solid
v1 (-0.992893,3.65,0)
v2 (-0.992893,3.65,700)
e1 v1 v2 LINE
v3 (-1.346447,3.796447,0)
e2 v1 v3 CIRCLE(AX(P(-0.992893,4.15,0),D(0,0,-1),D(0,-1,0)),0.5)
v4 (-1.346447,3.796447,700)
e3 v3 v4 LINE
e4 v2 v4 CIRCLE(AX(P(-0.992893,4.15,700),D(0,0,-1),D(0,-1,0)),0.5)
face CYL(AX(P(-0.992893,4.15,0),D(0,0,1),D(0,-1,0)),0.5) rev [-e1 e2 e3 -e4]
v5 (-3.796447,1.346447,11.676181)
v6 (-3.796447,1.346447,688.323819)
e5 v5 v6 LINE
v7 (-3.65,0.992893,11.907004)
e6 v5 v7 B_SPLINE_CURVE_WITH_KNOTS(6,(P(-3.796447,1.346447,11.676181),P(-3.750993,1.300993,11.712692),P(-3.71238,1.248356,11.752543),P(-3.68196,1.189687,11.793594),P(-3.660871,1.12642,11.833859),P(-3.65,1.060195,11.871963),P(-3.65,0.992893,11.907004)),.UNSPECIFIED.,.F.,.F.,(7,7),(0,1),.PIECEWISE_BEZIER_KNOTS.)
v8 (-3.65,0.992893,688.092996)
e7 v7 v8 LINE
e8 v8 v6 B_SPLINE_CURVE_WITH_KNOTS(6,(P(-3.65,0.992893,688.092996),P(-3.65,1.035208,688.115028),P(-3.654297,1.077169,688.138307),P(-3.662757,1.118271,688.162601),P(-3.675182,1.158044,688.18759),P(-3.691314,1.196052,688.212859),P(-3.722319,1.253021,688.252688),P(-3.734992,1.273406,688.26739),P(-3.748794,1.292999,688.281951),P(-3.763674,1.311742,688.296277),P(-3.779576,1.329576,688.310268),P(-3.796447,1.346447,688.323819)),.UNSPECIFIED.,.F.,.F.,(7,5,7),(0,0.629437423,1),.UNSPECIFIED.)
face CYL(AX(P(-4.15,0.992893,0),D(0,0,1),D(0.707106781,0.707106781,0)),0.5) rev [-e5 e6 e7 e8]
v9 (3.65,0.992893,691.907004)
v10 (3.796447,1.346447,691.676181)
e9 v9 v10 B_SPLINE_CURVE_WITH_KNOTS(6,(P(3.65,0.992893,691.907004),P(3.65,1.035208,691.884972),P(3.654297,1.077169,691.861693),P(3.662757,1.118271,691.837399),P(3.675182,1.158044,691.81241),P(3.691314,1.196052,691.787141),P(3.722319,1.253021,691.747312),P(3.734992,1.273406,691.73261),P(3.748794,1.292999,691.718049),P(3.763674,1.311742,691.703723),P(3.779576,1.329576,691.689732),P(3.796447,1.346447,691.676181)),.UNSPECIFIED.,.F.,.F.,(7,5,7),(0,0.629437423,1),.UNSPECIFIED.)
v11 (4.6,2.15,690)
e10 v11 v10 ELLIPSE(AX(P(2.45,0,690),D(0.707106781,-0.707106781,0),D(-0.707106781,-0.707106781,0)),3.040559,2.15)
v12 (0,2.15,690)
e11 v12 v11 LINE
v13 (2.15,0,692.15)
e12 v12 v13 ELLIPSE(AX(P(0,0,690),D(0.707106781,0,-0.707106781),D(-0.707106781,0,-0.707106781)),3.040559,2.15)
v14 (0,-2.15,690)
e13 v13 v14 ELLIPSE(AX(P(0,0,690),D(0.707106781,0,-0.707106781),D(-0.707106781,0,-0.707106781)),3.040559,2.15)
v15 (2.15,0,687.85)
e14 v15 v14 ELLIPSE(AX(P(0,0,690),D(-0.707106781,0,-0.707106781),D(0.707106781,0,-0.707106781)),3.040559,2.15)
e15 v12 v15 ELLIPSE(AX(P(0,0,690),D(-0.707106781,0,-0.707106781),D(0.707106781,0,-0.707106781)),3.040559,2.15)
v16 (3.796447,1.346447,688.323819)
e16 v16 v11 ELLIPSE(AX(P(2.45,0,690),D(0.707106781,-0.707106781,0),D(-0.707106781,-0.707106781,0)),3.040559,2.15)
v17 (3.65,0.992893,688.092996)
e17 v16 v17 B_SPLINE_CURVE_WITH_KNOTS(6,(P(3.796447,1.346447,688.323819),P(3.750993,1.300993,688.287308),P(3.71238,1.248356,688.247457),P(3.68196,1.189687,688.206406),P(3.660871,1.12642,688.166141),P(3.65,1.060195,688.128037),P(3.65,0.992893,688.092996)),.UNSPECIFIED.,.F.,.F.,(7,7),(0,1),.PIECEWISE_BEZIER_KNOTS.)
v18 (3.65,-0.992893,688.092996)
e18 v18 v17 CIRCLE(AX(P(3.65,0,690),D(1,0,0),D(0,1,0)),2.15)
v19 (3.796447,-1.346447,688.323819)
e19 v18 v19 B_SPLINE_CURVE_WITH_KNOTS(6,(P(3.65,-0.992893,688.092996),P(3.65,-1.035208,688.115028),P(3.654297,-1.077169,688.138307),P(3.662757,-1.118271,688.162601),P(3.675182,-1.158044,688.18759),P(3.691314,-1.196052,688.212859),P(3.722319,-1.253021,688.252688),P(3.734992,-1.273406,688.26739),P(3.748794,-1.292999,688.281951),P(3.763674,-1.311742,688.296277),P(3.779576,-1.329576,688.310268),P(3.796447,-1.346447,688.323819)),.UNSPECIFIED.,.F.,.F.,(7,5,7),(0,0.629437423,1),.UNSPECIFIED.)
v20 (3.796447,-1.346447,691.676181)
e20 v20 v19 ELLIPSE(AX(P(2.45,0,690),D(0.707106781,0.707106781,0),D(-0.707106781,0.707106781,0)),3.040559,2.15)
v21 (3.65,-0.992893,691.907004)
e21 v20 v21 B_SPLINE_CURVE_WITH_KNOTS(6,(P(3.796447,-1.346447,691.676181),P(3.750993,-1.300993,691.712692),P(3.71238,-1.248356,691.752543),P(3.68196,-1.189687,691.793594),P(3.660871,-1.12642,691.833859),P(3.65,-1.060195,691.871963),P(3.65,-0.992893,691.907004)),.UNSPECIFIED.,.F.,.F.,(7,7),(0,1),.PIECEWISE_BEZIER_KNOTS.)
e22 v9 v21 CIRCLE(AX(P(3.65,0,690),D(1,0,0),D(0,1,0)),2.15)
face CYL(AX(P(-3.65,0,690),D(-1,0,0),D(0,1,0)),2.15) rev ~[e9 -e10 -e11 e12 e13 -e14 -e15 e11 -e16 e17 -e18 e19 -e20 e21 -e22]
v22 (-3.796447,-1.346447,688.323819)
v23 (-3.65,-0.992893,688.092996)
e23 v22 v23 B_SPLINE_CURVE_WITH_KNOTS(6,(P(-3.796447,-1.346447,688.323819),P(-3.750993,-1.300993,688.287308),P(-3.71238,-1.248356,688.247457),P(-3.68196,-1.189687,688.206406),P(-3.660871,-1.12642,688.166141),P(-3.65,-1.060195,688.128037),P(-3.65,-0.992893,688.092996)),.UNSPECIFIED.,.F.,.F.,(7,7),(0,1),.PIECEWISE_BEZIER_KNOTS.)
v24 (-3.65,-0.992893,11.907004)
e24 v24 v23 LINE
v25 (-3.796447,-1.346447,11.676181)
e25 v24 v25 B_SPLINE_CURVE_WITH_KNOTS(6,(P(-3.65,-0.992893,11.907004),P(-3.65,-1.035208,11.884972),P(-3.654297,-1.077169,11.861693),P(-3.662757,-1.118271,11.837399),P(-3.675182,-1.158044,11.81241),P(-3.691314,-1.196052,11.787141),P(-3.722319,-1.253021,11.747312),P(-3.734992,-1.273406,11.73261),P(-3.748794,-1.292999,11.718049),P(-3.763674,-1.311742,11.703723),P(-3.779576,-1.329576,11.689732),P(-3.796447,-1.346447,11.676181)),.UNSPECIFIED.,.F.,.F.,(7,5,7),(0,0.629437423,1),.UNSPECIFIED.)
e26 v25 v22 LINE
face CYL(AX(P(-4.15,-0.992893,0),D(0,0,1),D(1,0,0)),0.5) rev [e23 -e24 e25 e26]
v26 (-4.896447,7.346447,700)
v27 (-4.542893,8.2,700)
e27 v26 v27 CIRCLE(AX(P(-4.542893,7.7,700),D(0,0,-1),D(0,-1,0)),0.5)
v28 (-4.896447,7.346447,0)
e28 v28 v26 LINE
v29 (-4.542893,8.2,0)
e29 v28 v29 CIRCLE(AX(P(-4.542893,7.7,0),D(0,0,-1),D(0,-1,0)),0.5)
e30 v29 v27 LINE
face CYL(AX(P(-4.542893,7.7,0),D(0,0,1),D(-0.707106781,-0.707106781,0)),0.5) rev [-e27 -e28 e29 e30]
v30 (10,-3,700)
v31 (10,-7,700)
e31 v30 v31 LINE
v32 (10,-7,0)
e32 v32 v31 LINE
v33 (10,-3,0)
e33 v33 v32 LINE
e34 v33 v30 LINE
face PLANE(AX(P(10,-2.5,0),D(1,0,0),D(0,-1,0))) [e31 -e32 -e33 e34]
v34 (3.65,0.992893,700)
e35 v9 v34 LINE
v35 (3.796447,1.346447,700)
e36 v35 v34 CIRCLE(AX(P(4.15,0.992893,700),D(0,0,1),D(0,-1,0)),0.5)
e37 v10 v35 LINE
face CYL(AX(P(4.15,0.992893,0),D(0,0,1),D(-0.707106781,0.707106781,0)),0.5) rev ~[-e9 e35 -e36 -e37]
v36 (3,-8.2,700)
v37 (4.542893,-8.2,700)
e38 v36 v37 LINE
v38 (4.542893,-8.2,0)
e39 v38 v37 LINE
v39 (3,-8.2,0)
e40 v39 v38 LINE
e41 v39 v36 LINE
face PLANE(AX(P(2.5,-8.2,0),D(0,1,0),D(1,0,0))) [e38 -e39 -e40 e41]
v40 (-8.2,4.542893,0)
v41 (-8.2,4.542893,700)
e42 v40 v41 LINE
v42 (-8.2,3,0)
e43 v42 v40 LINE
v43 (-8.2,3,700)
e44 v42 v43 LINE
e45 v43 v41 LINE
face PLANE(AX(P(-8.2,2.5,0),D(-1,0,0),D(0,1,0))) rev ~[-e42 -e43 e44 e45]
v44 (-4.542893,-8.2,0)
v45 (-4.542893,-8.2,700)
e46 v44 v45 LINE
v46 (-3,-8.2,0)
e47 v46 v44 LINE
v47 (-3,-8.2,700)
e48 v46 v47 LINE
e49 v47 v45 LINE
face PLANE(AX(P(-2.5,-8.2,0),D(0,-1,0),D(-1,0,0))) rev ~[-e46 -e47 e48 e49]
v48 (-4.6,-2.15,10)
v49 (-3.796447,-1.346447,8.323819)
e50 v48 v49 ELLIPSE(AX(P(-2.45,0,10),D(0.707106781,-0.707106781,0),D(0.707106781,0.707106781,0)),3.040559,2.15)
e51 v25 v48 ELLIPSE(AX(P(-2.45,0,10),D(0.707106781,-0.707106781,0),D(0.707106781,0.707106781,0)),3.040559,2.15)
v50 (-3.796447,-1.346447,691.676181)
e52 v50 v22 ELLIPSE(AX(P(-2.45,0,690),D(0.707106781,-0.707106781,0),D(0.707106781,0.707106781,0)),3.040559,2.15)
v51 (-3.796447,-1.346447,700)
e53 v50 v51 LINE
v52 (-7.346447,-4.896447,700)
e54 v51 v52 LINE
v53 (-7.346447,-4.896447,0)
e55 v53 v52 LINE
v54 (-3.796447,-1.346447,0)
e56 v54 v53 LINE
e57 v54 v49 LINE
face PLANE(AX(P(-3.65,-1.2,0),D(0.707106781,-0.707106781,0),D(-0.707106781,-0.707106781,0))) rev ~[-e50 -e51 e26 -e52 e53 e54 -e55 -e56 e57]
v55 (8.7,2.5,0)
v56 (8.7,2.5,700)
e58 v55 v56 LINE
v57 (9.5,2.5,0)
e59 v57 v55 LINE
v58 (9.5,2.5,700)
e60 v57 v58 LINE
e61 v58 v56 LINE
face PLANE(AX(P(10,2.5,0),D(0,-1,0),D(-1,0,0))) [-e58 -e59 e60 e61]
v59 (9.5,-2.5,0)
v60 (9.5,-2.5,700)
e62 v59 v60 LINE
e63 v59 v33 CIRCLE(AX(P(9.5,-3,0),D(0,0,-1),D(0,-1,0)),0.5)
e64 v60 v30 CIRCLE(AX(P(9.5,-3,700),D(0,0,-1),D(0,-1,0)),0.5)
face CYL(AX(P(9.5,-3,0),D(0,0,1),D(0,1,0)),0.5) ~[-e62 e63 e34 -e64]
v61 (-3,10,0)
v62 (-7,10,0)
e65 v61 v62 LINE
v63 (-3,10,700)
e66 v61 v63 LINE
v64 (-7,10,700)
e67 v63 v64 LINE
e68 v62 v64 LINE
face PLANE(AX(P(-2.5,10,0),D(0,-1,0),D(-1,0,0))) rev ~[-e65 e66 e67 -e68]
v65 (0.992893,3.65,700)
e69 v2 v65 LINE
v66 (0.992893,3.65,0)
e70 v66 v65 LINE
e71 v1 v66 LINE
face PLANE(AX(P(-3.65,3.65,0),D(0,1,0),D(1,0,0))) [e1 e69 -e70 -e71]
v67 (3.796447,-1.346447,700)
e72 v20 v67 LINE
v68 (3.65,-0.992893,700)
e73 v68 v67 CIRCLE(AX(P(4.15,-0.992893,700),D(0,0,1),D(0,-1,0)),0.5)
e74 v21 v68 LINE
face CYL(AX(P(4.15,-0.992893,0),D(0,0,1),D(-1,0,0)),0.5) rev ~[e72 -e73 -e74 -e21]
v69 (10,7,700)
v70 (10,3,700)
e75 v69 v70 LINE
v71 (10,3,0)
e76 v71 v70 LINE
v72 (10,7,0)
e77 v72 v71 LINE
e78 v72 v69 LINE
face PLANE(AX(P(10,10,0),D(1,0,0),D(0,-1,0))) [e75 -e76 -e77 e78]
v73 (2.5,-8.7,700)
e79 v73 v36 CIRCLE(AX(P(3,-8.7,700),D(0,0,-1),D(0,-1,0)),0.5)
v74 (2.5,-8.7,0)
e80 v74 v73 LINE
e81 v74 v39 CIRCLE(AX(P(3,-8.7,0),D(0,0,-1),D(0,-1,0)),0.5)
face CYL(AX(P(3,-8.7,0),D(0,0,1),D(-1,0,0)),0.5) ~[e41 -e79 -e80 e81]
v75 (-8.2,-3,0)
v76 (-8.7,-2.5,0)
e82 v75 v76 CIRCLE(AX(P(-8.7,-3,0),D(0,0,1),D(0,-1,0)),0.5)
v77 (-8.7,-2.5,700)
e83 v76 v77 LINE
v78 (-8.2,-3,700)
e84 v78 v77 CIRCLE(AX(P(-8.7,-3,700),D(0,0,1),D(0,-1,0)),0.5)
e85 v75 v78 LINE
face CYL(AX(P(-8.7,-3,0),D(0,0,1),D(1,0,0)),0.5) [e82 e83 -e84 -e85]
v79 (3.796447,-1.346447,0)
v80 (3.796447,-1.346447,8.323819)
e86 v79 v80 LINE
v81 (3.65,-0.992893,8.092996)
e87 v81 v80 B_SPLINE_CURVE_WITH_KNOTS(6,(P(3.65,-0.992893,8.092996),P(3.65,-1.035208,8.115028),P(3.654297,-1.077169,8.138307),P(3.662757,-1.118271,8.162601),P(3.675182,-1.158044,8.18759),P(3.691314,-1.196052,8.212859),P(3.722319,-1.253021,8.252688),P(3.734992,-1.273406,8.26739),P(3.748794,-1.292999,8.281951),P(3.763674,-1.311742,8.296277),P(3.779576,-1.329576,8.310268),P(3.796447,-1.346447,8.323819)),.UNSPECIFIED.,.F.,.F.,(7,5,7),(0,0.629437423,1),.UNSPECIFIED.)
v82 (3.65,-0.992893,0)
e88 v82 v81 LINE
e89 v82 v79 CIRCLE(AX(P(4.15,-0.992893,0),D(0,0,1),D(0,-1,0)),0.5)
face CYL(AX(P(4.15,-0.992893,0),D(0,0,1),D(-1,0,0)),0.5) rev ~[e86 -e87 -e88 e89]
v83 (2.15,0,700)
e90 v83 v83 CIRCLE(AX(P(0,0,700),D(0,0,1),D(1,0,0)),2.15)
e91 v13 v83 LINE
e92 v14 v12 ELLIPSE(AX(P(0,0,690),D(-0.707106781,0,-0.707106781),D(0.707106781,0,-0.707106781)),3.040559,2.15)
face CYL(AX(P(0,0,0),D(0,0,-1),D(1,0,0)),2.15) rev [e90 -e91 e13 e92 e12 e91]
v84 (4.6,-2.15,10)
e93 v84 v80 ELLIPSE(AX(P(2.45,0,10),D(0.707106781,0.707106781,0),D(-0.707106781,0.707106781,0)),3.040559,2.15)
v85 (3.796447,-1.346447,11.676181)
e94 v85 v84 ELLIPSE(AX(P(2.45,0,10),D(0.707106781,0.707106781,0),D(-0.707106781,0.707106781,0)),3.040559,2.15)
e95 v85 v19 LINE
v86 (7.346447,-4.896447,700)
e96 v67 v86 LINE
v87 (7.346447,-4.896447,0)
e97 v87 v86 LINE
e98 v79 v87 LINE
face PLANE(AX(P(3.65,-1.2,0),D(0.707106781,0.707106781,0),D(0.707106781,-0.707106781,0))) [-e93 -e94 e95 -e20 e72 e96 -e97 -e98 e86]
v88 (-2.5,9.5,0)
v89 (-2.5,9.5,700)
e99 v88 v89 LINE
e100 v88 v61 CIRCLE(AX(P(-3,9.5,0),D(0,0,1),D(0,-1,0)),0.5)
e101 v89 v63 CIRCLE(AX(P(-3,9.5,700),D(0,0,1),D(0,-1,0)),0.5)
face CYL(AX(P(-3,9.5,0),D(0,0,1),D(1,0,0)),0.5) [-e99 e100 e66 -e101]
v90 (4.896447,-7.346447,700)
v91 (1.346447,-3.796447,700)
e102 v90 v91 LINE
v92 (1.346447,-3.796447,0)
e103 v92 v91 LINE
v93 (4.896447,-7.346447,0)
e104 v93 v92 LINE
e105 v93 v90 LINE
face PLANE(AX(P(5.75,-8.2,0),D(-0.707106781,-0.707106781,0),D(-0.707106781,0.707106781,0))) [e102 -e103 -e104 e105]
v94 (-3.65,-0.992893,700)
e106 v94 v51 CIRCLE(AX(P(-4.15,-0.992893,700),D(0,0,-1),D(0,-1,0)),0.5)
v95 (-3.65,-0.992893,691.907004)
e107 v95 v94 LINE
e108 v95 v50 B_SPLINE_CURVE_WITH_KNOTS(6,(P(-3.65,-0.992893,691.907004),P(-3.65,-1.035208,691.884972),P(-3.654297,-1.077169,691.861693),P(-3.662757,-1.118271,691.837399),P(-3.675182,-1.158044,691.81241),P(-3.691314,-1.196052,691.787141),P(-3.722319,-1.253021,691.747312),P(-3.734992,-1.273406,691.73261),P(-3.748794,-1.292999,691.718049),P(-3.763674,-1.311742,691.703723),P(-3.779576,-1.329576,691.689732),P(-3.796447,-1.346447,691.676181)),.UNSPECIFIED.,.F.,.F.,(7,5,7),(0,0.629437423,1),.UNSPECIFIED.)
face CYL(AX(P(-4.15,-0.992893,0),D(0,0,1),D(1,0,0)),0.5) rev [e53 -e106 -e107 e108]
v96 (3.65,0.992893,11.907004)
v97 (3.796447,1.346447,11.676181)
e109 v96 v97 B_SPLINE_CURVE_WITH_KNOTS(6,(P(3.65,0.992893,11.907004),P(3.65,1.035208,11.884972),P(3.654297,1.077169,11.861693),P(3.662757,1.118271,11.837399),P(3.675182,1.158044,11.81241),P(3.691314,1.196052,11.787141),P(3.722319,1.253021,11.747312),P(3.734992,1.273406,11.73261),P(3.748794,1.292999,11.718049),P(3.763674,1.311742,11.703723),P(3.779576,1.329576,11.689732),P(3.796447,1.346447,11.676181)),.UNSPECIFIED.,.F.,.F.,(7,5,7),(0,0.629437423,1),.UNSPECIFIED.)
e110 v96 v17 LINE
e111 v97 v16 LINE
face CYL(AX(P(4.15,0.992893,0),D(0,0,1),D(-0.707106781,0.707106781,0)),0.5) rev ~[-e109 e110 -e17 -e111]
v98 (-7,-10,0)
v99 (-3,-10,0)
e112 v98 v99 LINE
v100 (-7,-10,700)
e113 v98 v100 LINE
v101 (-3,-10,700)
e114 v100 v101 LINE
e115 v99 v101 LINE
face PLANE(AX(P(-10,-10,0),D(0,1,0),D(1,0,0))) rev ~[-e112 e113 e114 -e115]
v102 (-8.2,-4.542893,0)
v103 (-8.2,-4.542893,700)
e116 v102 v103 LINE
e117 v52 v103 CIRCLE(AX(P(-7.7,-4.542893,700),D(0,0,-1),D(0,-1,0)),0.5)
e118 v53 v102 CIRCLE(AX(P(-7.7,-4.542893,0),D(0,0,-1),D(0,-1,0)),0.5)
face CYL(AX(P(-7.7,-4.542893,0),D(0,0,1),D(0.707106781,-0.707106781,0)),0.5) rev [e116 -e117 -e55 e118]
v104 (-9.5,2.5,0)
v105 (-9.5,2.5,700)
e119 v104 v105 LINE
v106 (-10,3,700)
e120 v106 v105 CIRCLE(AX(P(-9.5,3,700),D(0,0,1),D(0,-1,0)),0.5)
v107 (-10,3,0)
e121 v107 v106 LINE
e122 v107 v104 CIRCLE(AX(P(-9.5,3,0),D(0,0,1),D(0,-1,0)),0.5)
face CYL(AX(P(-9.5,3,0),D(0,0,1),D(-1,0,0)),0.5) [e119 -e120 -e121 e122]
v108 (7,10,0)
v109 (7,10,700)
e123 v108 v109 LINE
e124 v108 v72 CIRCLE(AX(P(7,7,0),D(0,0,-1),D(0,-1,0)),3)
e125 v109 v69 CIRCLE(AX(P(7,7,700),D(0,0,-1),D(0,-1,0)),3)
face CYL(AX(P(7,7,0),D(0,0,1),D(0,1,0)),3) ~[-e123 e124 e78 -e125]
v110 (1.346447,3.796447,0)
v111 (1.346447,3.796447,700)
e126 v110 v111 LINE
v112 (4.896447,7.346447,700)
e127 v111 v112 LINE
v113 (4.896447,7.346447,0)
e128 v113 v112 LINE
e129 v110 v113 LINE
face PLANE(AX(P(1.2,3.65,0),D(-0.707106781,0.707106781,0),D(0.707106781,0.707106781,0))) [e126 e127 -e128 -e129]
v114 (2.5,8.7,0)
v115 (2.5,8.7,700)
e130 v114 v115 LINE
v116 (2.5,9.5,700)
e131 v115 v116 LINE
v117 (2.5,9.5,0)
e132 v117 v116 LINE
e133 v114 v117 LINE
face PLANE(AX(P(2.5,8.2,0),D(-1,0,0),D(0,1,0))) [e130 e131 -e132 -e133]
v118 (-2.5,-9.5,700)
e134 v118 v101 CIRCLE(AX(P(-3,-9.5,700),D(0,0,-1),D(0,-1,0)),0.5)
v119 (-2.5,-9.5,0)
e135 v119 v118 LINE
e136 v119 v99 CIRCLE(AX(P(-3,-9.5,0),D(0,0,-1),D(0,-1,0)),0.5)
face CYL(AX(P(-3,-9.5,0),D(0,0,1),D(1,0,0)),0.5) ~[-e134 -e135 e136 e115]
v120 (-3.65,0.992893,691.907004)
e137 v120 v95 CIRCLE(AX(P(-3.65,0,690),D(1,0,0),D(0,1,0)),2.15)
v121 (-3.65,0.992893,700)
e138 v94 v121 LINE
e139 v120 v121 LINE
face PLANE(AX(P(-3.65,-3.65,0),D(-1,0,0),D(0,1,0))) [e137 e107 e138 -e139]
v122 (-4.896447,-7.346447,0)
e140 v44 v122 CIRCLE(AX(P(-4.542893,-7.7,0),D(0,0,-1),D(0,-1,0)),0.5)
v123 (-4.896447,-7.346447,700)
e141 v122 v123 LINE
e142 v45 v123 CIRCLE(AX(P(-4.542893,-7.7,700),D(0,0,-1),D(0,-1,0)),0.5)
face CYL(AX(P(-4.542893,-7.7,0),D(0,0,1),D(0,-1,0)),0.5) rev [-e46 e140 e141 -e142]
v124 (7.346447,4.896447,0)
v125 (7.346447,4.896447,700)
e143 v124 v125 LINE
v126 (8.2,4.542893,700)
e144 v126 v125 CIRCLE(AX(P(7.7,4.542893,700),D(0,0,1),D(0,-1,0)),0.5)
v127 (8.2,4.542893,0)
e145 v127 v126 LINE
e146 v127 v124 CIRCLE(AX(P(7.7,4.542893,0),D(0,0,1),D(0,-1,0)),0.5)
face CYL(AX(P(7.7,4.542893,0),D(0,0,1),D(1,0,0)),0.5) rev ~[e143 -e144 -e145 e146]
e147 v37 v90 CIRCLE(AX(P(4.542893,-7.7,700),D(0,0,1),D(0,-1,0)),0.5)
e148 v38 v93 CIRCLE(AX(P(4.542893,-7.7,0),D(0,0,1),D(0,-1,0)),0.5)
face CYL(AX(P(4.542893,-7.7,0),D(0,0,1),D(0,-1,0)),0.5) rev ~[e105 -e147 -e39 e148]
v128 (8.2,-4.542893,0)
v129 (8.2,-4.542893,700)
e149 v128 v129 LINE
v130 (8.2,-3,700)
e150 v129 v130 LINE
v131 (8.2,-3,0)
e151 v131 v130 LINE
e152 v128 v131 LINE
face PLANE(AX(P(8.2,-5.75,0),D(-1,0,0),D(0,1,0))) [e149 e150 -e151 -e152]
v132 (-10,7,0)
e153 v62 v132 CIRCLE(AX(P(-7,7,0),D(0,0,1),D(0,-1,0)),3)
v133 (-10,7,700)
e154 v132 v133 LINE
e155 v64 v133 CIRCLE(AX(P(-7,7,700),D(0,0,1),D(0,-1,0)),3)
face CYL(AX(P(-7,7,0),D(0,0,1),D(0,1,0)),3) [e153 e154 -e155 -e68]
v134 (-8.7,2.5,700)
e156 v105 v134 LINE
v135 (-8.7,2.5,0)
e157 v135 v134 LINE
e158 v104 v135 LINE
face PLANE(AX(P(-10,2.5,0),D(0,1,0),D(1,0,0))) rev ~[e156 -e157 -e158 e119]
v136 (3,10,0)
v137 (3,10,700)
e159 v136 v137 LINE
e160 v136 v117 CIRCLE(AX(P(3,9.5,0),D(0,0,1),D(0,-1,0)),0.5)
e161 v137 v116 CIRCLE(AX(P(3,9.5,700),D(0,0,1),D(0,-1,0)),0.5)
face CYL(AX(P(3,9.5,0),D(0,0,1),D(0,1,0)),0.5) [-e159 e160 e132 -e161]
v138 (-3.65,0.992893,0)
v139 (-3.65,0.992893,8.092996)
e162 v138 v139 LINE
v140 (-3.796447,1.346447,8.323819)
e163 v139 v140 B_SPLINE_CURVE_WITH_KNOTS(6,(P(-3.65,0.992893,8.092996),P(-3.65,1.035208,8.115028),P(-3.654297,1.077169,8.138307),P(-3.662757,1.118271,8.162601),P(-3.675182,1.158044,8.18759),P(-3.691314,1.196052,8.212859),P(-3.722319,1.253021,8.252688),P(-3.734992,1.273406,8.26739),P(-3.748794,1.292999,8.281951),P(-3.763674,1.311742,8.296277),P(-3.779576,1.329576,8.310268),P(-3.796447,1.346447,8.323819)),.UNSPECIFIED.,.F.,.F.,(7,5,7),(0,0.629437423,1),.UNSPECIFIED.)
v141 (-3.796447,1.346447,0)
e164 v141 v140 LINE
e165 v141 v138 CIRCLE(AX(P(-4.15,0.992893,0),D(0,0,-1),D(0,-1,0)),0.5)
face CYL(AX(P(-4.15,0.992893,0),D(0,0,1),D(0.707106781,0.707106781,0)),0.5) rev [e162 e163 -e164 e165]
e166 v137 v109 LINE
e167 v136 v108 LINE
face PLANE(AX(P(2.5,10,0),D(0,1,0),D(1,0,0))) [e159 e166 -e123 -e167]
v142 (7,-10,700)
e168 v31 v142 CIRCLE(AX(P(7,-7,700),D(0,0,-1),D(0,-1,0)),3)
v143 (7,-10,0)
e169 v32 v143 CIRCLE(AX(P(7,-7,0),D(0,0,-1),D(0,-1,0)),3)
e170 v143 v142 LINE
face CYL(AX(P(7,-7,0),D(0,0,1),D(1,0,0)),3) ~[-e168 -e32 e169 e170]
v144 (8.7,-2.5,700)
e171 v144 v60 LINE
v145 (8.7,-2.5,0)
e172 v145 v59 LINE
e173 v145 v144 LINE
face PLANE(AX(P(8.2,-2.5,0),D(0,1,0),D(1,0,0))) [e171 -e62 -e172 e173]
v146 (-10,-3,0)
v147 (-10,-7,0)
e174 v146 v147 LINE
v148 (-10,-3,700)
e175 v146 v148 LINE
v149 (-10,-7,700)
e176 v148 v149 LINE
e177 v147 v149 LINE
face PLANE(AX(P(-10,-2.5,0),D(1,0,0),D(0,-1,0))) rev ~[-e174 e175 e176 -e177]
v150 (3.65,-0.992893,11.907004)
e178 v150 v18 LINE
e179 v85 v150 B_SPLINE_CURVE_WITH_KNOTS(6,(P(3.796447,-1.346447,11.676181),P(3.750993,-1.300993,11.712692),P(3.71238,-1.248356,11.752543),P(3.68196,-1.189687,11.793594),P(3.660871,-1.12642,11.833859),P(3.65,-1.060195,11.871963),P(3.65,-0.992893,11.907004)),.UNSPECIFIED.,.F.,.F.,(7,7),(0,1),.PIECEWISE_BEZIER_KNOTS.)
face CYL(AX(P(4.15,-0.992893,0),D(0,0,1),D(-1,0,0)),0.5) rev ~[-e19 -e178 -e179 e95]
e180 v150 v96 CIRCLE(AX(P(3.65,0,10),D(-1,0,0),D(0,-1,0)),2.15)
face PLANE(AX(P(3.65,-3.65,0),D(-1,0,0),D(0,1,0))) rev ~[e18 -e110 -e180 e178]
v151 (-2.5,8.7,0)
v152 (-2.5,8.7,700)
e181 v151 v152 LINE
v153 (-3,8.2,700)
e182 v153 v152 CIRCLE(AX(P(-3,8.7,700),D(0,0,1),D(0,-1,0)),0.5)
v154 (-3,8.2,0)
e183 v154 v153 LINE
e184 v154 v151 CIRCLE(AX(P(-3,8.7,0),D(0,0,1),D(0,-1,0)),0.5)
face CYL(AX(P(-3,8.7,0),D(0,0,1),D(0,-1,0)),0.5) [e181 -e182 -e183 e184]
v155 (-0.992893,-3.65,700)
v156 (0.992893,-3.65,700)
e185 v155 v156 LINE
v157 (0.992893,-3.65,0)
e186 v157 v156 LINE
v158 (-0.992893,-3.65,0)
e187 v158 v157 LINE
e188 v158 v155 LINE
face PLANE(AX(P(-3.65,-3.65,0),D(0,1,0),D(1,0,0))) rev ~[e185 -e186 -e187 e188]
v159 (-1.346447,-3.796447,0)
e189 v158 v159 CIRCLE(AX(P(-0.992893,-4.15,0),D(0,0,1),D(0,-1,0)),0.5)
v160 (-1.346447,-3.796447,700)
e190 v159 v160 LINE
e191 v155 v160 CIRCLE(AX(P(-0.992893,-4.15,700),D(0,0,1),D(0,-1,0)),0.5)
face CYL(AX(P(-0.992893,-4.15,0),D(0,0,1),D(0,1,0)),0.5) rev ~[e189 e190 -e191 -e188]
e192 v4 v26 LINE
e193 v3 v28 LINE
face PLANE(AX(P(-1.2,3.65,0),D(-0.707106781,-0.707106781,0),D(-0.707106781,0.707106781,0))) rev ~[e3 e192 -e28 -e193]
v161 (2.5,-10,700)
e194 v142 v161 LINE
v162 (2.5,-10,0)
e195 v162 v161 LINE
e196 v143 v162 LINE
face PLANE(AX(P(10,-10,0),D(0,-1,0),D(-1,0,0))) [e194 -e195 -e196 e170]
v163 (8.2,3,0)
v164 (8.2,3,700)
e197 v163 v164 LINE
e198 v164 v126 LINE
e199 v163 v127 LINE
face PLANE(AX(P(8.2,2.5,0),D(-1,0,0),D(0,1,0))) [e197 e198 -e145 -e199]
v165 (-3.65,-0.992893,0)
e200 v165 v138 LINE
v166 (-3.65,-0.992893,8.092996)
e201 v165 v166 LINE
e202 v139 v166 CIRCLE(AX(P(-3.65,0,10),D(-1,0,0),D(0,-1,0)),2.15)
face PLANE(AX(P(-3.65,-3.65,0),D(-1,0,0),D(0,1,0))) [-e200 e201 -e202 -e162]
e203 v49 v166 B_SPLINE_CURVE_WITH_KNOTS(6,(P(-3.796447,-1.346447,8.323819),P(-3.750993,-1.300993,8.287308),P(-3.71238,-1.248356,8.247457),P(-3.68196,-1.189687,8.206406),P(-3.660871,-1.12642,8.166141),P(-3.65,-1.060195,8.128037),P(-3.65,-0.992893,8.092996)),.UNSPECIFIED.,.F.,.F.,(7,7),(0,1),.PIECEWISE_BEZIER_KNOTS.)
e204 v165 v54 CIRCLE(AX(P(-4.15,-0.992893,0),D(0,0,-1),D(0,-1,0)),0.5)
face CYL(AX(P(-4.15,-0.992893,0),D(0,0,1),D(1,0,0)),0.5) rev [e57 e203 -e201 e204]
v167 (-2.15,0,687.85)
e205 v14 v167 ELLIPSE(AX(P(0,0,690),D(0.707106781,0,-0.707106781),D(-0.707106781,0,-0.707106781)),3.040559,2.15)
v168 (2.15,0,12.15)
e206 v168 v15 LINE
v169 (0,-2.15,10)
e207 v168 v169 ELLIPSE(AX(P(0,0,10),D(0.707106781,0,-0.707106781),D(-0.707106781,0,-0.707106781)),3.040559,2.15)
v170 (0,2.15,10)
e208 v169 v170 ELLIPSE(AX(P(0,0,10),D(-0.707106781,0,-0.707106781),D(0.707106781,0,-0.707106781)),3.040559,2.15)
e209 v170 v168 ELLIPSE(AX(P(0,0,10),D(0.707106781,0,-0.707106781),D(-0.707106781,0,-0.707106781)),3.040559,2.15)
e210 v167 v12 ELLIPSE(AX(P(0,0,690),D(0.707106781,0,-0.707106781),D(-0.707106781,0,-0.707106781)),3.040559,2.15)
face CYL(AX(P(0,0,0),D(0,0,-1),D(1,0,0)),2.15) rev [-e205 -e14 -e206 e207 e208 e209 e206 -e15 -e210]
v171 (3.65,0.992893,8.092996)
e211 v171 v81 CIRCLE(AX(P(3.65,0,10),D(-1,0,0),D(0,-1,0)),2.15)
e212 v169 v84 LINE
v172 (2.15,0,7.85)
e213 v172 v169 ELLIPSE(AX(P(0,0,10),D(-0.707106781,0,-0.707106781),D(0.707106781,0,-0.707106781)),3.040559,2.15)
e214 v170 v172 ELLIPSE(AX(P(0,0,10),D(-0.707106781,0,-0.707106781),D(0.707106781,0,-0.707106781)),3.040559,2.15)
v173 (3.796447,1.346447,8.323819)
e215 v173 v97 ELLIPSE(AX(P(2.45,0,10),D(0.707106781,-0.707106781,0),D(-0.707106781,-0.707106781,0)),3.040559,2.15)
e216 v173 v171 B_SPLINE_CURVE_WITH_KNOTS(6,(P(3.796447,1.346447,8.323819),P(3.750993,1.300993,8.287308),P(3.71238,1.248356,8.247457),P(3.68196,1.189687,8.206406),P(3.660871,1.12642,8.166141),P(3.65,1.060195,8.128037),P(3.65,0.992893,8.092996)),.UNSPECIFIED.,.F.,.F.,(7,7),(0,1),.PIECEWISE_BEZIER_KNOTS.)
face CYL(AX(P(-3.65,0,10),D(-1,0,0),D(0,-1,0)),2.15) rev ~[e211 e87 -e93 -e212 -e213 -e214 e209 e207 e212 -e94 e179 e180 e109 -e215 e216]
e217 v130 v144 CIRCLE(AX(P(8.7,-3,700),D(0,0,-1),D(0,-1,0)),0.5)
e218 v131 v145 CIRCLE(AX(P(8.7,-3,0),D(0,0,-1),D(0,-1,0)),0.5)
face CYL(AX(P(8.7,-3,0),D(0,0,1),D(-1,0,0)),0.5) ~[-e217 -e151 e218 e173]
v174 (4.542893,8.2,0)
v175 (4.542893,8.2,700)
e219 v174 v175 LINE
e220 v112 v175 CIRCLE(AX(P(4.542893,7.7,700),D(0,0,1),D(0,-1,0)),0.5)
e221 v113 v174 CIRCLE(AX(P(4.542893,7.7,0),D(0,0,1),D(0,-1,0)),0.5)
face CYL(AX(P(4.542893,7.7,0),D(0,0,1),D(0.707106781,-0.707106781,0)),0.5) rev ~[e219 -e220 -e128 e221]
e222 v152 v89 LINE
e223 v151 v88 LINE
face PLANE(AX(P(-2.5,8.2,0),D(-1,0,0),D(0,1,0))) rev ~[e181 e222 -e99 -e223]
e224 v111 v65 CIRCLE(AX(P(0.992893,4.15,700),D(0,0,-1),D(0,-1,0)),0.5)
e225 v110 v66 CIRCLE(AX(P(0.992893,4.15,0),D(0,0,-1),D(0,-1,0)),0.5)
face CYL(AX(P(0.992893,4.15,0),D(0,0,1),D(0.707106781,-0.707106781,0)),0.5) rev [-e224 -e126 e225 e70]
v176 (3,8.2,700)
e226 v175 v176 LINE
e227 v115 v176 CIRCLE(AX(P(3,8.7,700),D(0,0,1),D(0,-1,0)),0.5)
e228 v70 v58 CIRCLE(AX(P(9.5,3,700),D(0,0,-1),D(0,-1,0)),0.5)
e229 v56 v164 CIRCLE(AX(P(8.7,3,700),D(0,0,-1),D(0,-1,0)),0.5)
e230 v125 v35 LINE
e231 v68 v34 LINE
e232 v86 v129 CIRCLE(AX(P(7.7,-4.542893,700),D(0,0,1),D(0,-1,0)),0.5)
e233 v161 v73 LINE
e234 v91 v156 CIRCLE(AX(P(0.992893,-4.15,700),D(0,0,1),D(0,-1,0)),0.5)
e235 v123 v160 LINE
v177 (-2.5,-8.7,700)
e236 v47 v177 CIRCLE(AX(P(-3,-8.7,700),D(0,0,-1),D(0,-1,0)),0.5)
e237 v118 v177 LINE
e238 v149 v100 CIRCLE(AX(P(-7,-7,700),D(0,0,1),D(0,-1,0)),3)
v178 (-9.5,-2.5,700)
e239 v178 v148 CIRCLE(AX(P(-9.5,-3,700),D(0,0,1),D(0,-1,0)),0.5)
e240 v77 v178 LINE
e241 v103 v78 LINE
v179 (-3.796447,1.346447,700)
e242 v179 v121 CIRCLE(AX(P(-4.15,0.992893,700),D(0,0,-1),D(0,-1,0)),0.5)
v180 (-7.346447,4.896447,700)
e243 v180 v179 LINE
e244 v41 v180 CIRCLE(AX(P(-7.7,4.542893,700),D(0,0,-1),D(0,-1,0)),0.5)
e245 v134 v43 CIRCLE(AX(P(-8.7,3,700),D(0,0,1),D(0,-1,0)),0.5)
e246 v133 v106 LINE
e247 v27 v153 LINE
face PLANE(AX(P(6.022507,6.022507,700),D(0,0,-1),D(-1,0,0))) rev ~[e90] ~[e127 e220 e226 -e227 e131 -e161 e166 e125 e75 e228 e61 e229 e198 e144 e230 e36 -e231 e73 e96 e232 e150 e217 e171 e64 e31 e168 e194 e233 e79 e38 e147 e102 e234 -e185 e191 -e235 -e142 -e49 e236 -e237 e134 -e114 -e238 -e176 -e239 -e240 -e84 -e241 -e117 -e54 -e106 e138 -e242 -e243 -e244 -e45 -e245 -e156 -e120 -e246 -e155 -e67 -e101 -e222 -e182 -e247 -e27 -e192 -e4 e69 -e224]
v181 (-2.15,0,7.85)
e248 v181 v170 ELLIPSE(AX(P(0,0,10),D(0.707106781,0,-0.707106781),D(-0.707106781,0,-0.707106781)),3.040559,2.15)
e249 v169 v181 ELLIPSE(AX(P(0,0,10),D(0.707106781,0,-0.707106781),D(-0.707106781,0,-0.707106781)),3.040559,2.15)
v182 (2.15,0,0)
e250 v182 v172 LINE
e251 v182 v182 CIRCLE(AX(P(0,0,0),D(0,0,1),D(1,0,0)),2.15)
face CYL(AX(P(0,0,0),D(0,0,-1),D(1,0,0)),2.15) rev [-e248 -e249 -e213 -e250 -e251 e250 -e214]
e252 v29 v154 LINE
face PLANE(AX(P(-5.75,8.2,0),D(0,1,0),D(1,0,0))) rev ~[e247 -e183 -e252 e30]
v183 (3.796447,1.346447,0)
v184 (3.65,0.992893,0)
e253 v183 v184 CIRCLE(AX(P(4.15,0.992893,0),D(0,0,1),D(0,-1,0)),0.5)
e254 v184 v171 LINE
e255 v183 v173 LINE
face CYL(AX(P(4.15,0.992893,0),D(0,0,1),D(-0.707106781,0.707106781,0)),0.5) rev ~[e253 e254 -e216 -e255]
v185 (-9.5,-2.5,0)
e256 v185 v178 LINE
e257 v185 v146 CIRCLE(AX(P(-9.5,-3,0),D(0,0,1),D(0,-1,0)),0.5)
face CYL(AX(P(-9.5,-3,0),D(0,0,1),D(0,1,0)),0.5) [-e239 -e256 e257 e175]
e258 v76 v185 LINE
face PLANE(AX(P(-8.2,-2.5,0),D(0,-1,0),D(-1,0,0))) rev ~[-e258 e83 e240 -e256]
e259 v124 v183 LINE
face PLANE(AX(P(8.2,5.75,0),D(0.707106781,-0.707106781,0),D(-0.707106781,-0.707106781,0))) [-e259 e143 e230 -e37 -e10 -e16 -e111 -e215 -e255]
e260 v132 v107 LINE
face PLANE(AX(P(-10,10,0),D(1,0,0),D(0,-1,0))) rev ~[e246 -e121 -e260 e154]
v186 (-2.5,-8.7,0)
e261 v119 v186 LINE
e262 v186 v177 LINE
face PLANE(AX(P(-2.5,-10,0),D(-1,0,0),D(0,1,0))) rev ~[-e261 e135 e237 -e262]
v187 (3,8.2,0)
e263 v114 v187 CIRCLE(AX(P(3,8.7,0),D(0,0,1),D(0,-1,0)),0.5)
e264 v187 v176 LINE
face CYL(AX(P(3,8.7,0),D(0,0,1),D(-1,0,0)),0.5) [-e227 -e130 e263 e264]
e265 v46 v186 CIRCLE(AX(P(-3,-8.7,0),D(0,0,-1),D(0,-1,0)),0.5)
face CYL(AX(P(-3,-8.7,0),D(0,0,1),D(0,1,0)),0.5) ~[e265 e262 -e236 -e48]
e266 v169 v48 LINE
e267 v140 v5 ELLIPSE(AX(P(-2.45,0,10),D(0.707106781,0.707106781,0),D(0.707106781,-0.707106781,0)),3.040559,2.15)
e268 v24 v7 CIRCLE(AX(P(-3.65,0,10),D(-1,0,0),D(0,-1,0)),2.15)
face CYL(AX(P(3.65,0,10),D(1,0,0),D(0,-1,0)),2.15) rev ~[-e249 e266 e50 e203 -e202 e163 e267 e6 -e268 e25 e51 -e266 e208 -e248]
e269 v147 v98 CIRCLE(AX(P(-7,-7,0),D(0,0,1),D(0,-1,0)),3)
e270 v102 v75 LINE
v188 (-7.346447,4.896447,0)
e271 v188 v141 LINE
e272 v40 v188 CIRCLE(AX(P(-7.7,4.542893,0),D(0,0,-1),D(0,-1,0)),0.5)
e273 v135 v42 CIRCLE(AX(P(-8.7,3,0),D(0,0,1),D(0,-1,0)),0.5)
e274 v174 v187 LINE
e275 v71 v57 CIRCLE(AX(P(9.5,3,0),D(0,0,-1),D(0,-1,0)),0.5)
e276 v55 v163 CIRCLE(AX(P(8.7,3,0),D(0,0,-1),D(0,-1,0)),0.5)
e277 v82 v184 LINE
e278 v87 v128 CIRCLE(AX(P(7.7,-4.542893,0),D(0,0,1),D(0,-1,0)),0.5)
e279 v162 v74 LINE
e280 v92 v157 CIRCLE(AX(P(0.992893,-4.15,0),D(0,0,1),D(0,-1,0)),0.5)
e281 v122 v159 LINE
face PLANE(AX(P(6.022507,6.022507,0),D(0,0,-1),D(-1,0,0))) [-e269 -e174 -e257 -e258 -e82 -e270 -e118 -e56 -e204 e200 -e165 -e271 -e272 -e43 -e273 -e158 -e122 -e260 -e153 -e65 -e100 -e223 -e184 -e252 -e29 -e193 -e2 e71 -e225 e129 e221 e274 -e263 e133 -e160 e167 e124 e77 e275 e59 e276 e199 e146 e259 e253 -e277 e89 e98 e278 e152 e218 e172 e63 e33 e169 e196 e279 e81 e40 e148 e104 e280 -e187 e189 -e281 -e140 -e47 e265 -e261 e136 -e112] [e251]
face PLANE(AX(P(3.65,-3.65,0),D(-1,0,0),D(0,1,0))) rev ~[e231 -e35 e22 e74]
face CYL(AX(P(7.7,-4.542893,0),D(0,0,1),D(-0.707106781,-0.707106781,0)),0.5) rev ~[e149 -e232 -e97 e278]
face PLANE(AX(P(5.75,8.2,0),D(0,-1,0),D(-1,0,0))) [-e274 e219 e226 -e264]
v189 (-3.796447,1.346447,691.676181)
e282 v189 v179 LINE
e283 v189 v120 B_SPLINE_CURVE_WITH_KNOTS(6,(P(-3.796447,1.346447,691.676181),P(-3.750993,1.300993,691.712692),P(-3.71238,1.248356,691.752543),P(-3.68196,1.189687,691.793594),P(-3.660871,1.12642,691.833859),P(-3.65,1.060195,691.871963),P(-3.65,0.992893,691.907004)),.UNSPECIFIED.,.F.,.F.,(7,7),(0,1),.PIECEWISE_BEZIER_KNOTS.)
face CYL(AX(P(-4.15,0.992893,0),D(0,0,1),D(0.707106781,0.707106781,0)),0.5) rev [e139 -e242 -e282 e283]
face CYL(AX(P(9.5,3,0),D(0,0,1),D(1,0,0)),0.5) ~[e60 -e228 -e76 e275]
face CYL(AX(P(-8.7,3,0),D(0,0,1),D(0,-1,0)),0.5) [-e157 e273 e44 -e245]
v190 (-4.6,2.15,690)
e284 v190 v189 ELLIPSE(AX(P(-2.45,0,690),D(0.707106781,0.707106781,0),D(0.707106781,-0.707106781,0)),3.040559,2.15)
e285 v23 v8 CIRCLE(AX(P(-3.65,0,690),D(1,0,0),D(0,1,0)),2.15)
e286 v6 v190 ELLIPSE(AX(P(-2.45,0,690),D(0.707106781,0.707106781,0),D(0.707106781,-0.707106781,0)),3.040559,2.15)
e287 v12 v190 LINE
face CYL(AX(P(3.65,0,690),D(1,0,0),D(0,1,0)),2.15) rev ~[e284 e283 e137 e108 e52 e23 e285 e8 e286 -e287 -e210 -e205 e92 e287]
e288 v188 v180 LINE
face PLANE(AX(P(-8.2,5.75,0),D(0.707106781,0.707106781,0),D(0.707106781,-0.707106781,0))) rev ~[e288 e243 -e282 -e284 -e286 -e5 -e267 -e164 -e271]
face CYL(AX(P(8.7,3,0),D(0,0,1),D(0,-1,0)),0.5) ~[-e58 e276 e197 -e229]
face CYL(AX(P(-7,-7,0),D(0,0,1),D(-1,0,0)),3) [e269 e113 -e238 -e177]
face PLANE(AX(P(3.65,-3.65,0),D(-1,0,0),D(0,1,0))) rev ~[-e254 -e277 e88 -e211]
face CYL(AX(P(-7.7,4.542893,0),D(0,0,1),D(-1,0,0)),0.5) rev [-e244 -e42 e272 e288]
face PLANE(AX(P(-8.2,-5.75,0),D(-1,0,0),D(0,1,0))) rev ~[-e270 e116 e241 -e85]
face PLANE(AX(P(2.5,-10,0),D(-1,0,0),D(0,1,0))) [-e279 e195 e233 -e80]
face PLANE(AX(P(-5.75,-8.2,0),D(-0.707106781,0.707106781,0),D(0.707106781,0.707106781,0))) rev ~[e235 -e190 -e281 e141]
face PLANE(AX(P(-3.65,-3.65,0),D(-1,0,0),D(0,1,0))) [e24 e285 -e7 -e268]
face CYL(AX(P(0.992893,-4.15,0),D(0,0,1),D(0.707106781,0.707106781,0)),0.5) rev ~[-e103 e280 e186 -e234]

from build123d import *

# Parameters (mm, degrees)
SKETCH1_W           = 7.3
SKETCH1_H           = 7.3
SKETCH1_R           = 2.15
BOSS_EXTRUDE1_DEPTH = 700
BOSS_EXTRUDE2_DEPTH = 700
FILLET4_R           = 3
FILLET5_R           = 0.5
FILLET6_R           = 0.5
FILLET7_R           = 0.5
SKETCH3_R           = 2.15
CUT_EXTRUDE1_DEPTH  = 701.204486204
SKETCH4_R           = 2.15
CUT_EXTRUDE2_DEPTH  = 701.204486304
SKETCH5_R           = 2.15
CUT_EXTRUDE3_DEPTH  = 701.204486304
SKETCH6_R           = 2.15
CUT_EXTRUDE4_DEPTH  = 701.204486304


with BuildPart() as part:
    # Sketch1 → Boss-Extrude1 (new body)
    with BuildSketch(Plane.XY):
        Rectangle(SKETCH1_W, SKETCH1_H)
        Circle(SKETCH1_R, mode=Mode.SUBTRACT)
    extrude(amount=BOSS_EXTRUDE1_DEPTH)

    # Sketch2 → Boss-Extrude2 (add)
    with BuildSketch(Plane.XY):
        Polygon((3.65, 3.65), (1.2, 3.65), (5.750000001, 8.200000001), (2.500000001, 8.200000001), (2.500000001, 10.000000001), (10.000000001, 10.000000001), (10.000000001, 2.500000001), (8.200000001, 2.500000001), (8.200000001, 5.750000001), (3.65, 1.2), align=None)
        Polygon((-3.65, 3.65), (-1.2, 3.65), (-5.750000001, 8.200000001), (-2.500000001, 8.200000001), (-2.500000001, 10.000000001), (-10.000000001, 10.000000001), (-10.000000001, 2.500000001), (-8.200000001, 2.500000001), (-8.200000001, 5.750000001), (-3.65, 1.2), align=None)
        Polygon((-3.65, -3.65), (-3.65, -1.2), (-8.200000001, -5.750000001), (-8.200000001, -2.500000001), (-10.000000001, -2.500000001), (-10.000000001, -10.000000001), (-2.500000001, -10.000000001), (-2.500000001, -8.200000001), (-5.750000001, -8.200000001), (-1.2, -3.65), align=None)
        Polygon((3.65, -3.65), (3.65, -1.2), (8.200000001, -5.750000001), (8.200000001, -2.500000001), (10.000000001, -2.500000001), (10.000000001, -10.000000001), (2.500000001, -10.000000001), (2.500000001, -8.200000001), (5.750000001, -8.200000001), (1.2, -3.65), align=None)
    extrude(amount=BOSS_EXTRUDE2_DEPTH)

    # Fillet4
    fillet4_edges = [part.edges().sort_by_distance(p)[0] for p in [
        (10.000000001, 10.000000001, 350),
        (-10.000000001, 10.000000001, 350),
        (-10.000000001, -10.000000001, 350),
        (10.000000001, -10.000000001, 350),
    ]]
    fillet(fillet4_edges, radius=FILLET4_R)

    # Fillet5
    fillet5_edges = [part.edges().sort_by_distance(p)[0] for p in [
        (8.200000001, 2.500000001, 350),
        (10.000000001, 2.500000001, 350),
        (2.500000001, 10.000000001, 350),
        (2.500000001, 8.200000001, 350),
        (-2.500000001, 8.200000001, 350),
        (-2.500000001, 10.000000001, 350),
        (-10.000000001, 2.500000001, 350),
        (-8.200000001, 2.500000001, 350),
        (-8.200000001, -2.500000001, 350),
        (-10.000000001, -2.500000001, 350),
        (-2.500000001, -10.000000001, 350),
        (-2.500000001, -8.200000001, 350),
        (2.500000001, -8.200000001, 350),
        (10.000000001, -2.500000001, 350),
        (8.200000001, -2.500000001, 350),
    ]]
    fillet(fillet5_edges, radius=FILLET5_R)

    # Fillet6
    fillet6_edges = [part.edges().sort_by_distance(p)[0] for p in [
        (3.65, 1.2, 350),
        (1.2, 3.65, 350),
        (-3.65, 1.2, 350),
        (-1.2, 3.65, 350),
        (-1.2, -3.65, 350),
        (-3.65, -1.2, 350),
        (1.2, -3.65, 350),
        (3.65, -1.2, 350),
    ]]
    fillet(fillet6_edges, radius=FILLET6_R)

    # Fillet7
    fillet7_edges = [part.edges().sort_by_distance(p)[0] for p in [
        (8.200000001, 5.750000001, 350),
        (5.750000001, 8.200000001, 350),
        (-5.750000001, 8.200000001, 350),
        (-8.200000001, 5.750000001, 350),
        (-8.200000001, -5.750000001, 350),
        (-5.750000001, -8.200000001, 350),
        (5.750000001, -8.200000001, 350),
        (8.200000001, -5.750000001, 350),
    ]]
    fillet(fillet7_edges, radius=FILLET7_R)

    # Sketch3 → Cut-Extrude1 (cut, through all)
    with BuildSketch(Plane.ZY.offset(3.65)):
        with Locations(Location((10, 0, 0), (0, 0, 270))):
            Circle(SKETCH3_R)
    extrude(amount=-CUT_EXTRUDE1_DEPTH, mode=Mode.SUBTRACT)

    # Sketch4 → Cut-Extrude2 (cut, through all)
    with BuildSketch(Plane(origin=(3.65, 0, 0), x_dir=(0, 0, -1), z_dir=(1, 0, 0))):
        with Locations(Location((-10, 0, 0), (0, 0, 270))):
            Circle(SKETCH4_R)
    extrude(amount=-CUT_EXTRUDE2_DEPTH, mode=Mode.SUBTRACT)

    # Sketch5 → Cut-Extrude3 (cut, through all)
    with BuildSketch(Plane(origin=(3.65, 0, 0), x_dir=(0, 0, -1), z_dir=(1, 0, 0))):
        with Locations(Location((-690, 0, 0), (0, 0, 90))):
            Circle(SKETCH5_R)
    extrude(amount=-CUT_EXTRUDE3_DEPTH, mode=Mode.SUBTRACT)

    # Sketch6 → Cut-Extrude4 (cut, through all)
    with BuildSketch(Plane.ZY.offset(3.65)):
        with Locations(Location((690, 0, 0), (0, 0, 90))):
            Circle(SKETCH6_R)
    extrude(amount=-CUT_EXTRUDE4_DEPTH, mode=Mode.SUBTRACT)


solid = part.part
